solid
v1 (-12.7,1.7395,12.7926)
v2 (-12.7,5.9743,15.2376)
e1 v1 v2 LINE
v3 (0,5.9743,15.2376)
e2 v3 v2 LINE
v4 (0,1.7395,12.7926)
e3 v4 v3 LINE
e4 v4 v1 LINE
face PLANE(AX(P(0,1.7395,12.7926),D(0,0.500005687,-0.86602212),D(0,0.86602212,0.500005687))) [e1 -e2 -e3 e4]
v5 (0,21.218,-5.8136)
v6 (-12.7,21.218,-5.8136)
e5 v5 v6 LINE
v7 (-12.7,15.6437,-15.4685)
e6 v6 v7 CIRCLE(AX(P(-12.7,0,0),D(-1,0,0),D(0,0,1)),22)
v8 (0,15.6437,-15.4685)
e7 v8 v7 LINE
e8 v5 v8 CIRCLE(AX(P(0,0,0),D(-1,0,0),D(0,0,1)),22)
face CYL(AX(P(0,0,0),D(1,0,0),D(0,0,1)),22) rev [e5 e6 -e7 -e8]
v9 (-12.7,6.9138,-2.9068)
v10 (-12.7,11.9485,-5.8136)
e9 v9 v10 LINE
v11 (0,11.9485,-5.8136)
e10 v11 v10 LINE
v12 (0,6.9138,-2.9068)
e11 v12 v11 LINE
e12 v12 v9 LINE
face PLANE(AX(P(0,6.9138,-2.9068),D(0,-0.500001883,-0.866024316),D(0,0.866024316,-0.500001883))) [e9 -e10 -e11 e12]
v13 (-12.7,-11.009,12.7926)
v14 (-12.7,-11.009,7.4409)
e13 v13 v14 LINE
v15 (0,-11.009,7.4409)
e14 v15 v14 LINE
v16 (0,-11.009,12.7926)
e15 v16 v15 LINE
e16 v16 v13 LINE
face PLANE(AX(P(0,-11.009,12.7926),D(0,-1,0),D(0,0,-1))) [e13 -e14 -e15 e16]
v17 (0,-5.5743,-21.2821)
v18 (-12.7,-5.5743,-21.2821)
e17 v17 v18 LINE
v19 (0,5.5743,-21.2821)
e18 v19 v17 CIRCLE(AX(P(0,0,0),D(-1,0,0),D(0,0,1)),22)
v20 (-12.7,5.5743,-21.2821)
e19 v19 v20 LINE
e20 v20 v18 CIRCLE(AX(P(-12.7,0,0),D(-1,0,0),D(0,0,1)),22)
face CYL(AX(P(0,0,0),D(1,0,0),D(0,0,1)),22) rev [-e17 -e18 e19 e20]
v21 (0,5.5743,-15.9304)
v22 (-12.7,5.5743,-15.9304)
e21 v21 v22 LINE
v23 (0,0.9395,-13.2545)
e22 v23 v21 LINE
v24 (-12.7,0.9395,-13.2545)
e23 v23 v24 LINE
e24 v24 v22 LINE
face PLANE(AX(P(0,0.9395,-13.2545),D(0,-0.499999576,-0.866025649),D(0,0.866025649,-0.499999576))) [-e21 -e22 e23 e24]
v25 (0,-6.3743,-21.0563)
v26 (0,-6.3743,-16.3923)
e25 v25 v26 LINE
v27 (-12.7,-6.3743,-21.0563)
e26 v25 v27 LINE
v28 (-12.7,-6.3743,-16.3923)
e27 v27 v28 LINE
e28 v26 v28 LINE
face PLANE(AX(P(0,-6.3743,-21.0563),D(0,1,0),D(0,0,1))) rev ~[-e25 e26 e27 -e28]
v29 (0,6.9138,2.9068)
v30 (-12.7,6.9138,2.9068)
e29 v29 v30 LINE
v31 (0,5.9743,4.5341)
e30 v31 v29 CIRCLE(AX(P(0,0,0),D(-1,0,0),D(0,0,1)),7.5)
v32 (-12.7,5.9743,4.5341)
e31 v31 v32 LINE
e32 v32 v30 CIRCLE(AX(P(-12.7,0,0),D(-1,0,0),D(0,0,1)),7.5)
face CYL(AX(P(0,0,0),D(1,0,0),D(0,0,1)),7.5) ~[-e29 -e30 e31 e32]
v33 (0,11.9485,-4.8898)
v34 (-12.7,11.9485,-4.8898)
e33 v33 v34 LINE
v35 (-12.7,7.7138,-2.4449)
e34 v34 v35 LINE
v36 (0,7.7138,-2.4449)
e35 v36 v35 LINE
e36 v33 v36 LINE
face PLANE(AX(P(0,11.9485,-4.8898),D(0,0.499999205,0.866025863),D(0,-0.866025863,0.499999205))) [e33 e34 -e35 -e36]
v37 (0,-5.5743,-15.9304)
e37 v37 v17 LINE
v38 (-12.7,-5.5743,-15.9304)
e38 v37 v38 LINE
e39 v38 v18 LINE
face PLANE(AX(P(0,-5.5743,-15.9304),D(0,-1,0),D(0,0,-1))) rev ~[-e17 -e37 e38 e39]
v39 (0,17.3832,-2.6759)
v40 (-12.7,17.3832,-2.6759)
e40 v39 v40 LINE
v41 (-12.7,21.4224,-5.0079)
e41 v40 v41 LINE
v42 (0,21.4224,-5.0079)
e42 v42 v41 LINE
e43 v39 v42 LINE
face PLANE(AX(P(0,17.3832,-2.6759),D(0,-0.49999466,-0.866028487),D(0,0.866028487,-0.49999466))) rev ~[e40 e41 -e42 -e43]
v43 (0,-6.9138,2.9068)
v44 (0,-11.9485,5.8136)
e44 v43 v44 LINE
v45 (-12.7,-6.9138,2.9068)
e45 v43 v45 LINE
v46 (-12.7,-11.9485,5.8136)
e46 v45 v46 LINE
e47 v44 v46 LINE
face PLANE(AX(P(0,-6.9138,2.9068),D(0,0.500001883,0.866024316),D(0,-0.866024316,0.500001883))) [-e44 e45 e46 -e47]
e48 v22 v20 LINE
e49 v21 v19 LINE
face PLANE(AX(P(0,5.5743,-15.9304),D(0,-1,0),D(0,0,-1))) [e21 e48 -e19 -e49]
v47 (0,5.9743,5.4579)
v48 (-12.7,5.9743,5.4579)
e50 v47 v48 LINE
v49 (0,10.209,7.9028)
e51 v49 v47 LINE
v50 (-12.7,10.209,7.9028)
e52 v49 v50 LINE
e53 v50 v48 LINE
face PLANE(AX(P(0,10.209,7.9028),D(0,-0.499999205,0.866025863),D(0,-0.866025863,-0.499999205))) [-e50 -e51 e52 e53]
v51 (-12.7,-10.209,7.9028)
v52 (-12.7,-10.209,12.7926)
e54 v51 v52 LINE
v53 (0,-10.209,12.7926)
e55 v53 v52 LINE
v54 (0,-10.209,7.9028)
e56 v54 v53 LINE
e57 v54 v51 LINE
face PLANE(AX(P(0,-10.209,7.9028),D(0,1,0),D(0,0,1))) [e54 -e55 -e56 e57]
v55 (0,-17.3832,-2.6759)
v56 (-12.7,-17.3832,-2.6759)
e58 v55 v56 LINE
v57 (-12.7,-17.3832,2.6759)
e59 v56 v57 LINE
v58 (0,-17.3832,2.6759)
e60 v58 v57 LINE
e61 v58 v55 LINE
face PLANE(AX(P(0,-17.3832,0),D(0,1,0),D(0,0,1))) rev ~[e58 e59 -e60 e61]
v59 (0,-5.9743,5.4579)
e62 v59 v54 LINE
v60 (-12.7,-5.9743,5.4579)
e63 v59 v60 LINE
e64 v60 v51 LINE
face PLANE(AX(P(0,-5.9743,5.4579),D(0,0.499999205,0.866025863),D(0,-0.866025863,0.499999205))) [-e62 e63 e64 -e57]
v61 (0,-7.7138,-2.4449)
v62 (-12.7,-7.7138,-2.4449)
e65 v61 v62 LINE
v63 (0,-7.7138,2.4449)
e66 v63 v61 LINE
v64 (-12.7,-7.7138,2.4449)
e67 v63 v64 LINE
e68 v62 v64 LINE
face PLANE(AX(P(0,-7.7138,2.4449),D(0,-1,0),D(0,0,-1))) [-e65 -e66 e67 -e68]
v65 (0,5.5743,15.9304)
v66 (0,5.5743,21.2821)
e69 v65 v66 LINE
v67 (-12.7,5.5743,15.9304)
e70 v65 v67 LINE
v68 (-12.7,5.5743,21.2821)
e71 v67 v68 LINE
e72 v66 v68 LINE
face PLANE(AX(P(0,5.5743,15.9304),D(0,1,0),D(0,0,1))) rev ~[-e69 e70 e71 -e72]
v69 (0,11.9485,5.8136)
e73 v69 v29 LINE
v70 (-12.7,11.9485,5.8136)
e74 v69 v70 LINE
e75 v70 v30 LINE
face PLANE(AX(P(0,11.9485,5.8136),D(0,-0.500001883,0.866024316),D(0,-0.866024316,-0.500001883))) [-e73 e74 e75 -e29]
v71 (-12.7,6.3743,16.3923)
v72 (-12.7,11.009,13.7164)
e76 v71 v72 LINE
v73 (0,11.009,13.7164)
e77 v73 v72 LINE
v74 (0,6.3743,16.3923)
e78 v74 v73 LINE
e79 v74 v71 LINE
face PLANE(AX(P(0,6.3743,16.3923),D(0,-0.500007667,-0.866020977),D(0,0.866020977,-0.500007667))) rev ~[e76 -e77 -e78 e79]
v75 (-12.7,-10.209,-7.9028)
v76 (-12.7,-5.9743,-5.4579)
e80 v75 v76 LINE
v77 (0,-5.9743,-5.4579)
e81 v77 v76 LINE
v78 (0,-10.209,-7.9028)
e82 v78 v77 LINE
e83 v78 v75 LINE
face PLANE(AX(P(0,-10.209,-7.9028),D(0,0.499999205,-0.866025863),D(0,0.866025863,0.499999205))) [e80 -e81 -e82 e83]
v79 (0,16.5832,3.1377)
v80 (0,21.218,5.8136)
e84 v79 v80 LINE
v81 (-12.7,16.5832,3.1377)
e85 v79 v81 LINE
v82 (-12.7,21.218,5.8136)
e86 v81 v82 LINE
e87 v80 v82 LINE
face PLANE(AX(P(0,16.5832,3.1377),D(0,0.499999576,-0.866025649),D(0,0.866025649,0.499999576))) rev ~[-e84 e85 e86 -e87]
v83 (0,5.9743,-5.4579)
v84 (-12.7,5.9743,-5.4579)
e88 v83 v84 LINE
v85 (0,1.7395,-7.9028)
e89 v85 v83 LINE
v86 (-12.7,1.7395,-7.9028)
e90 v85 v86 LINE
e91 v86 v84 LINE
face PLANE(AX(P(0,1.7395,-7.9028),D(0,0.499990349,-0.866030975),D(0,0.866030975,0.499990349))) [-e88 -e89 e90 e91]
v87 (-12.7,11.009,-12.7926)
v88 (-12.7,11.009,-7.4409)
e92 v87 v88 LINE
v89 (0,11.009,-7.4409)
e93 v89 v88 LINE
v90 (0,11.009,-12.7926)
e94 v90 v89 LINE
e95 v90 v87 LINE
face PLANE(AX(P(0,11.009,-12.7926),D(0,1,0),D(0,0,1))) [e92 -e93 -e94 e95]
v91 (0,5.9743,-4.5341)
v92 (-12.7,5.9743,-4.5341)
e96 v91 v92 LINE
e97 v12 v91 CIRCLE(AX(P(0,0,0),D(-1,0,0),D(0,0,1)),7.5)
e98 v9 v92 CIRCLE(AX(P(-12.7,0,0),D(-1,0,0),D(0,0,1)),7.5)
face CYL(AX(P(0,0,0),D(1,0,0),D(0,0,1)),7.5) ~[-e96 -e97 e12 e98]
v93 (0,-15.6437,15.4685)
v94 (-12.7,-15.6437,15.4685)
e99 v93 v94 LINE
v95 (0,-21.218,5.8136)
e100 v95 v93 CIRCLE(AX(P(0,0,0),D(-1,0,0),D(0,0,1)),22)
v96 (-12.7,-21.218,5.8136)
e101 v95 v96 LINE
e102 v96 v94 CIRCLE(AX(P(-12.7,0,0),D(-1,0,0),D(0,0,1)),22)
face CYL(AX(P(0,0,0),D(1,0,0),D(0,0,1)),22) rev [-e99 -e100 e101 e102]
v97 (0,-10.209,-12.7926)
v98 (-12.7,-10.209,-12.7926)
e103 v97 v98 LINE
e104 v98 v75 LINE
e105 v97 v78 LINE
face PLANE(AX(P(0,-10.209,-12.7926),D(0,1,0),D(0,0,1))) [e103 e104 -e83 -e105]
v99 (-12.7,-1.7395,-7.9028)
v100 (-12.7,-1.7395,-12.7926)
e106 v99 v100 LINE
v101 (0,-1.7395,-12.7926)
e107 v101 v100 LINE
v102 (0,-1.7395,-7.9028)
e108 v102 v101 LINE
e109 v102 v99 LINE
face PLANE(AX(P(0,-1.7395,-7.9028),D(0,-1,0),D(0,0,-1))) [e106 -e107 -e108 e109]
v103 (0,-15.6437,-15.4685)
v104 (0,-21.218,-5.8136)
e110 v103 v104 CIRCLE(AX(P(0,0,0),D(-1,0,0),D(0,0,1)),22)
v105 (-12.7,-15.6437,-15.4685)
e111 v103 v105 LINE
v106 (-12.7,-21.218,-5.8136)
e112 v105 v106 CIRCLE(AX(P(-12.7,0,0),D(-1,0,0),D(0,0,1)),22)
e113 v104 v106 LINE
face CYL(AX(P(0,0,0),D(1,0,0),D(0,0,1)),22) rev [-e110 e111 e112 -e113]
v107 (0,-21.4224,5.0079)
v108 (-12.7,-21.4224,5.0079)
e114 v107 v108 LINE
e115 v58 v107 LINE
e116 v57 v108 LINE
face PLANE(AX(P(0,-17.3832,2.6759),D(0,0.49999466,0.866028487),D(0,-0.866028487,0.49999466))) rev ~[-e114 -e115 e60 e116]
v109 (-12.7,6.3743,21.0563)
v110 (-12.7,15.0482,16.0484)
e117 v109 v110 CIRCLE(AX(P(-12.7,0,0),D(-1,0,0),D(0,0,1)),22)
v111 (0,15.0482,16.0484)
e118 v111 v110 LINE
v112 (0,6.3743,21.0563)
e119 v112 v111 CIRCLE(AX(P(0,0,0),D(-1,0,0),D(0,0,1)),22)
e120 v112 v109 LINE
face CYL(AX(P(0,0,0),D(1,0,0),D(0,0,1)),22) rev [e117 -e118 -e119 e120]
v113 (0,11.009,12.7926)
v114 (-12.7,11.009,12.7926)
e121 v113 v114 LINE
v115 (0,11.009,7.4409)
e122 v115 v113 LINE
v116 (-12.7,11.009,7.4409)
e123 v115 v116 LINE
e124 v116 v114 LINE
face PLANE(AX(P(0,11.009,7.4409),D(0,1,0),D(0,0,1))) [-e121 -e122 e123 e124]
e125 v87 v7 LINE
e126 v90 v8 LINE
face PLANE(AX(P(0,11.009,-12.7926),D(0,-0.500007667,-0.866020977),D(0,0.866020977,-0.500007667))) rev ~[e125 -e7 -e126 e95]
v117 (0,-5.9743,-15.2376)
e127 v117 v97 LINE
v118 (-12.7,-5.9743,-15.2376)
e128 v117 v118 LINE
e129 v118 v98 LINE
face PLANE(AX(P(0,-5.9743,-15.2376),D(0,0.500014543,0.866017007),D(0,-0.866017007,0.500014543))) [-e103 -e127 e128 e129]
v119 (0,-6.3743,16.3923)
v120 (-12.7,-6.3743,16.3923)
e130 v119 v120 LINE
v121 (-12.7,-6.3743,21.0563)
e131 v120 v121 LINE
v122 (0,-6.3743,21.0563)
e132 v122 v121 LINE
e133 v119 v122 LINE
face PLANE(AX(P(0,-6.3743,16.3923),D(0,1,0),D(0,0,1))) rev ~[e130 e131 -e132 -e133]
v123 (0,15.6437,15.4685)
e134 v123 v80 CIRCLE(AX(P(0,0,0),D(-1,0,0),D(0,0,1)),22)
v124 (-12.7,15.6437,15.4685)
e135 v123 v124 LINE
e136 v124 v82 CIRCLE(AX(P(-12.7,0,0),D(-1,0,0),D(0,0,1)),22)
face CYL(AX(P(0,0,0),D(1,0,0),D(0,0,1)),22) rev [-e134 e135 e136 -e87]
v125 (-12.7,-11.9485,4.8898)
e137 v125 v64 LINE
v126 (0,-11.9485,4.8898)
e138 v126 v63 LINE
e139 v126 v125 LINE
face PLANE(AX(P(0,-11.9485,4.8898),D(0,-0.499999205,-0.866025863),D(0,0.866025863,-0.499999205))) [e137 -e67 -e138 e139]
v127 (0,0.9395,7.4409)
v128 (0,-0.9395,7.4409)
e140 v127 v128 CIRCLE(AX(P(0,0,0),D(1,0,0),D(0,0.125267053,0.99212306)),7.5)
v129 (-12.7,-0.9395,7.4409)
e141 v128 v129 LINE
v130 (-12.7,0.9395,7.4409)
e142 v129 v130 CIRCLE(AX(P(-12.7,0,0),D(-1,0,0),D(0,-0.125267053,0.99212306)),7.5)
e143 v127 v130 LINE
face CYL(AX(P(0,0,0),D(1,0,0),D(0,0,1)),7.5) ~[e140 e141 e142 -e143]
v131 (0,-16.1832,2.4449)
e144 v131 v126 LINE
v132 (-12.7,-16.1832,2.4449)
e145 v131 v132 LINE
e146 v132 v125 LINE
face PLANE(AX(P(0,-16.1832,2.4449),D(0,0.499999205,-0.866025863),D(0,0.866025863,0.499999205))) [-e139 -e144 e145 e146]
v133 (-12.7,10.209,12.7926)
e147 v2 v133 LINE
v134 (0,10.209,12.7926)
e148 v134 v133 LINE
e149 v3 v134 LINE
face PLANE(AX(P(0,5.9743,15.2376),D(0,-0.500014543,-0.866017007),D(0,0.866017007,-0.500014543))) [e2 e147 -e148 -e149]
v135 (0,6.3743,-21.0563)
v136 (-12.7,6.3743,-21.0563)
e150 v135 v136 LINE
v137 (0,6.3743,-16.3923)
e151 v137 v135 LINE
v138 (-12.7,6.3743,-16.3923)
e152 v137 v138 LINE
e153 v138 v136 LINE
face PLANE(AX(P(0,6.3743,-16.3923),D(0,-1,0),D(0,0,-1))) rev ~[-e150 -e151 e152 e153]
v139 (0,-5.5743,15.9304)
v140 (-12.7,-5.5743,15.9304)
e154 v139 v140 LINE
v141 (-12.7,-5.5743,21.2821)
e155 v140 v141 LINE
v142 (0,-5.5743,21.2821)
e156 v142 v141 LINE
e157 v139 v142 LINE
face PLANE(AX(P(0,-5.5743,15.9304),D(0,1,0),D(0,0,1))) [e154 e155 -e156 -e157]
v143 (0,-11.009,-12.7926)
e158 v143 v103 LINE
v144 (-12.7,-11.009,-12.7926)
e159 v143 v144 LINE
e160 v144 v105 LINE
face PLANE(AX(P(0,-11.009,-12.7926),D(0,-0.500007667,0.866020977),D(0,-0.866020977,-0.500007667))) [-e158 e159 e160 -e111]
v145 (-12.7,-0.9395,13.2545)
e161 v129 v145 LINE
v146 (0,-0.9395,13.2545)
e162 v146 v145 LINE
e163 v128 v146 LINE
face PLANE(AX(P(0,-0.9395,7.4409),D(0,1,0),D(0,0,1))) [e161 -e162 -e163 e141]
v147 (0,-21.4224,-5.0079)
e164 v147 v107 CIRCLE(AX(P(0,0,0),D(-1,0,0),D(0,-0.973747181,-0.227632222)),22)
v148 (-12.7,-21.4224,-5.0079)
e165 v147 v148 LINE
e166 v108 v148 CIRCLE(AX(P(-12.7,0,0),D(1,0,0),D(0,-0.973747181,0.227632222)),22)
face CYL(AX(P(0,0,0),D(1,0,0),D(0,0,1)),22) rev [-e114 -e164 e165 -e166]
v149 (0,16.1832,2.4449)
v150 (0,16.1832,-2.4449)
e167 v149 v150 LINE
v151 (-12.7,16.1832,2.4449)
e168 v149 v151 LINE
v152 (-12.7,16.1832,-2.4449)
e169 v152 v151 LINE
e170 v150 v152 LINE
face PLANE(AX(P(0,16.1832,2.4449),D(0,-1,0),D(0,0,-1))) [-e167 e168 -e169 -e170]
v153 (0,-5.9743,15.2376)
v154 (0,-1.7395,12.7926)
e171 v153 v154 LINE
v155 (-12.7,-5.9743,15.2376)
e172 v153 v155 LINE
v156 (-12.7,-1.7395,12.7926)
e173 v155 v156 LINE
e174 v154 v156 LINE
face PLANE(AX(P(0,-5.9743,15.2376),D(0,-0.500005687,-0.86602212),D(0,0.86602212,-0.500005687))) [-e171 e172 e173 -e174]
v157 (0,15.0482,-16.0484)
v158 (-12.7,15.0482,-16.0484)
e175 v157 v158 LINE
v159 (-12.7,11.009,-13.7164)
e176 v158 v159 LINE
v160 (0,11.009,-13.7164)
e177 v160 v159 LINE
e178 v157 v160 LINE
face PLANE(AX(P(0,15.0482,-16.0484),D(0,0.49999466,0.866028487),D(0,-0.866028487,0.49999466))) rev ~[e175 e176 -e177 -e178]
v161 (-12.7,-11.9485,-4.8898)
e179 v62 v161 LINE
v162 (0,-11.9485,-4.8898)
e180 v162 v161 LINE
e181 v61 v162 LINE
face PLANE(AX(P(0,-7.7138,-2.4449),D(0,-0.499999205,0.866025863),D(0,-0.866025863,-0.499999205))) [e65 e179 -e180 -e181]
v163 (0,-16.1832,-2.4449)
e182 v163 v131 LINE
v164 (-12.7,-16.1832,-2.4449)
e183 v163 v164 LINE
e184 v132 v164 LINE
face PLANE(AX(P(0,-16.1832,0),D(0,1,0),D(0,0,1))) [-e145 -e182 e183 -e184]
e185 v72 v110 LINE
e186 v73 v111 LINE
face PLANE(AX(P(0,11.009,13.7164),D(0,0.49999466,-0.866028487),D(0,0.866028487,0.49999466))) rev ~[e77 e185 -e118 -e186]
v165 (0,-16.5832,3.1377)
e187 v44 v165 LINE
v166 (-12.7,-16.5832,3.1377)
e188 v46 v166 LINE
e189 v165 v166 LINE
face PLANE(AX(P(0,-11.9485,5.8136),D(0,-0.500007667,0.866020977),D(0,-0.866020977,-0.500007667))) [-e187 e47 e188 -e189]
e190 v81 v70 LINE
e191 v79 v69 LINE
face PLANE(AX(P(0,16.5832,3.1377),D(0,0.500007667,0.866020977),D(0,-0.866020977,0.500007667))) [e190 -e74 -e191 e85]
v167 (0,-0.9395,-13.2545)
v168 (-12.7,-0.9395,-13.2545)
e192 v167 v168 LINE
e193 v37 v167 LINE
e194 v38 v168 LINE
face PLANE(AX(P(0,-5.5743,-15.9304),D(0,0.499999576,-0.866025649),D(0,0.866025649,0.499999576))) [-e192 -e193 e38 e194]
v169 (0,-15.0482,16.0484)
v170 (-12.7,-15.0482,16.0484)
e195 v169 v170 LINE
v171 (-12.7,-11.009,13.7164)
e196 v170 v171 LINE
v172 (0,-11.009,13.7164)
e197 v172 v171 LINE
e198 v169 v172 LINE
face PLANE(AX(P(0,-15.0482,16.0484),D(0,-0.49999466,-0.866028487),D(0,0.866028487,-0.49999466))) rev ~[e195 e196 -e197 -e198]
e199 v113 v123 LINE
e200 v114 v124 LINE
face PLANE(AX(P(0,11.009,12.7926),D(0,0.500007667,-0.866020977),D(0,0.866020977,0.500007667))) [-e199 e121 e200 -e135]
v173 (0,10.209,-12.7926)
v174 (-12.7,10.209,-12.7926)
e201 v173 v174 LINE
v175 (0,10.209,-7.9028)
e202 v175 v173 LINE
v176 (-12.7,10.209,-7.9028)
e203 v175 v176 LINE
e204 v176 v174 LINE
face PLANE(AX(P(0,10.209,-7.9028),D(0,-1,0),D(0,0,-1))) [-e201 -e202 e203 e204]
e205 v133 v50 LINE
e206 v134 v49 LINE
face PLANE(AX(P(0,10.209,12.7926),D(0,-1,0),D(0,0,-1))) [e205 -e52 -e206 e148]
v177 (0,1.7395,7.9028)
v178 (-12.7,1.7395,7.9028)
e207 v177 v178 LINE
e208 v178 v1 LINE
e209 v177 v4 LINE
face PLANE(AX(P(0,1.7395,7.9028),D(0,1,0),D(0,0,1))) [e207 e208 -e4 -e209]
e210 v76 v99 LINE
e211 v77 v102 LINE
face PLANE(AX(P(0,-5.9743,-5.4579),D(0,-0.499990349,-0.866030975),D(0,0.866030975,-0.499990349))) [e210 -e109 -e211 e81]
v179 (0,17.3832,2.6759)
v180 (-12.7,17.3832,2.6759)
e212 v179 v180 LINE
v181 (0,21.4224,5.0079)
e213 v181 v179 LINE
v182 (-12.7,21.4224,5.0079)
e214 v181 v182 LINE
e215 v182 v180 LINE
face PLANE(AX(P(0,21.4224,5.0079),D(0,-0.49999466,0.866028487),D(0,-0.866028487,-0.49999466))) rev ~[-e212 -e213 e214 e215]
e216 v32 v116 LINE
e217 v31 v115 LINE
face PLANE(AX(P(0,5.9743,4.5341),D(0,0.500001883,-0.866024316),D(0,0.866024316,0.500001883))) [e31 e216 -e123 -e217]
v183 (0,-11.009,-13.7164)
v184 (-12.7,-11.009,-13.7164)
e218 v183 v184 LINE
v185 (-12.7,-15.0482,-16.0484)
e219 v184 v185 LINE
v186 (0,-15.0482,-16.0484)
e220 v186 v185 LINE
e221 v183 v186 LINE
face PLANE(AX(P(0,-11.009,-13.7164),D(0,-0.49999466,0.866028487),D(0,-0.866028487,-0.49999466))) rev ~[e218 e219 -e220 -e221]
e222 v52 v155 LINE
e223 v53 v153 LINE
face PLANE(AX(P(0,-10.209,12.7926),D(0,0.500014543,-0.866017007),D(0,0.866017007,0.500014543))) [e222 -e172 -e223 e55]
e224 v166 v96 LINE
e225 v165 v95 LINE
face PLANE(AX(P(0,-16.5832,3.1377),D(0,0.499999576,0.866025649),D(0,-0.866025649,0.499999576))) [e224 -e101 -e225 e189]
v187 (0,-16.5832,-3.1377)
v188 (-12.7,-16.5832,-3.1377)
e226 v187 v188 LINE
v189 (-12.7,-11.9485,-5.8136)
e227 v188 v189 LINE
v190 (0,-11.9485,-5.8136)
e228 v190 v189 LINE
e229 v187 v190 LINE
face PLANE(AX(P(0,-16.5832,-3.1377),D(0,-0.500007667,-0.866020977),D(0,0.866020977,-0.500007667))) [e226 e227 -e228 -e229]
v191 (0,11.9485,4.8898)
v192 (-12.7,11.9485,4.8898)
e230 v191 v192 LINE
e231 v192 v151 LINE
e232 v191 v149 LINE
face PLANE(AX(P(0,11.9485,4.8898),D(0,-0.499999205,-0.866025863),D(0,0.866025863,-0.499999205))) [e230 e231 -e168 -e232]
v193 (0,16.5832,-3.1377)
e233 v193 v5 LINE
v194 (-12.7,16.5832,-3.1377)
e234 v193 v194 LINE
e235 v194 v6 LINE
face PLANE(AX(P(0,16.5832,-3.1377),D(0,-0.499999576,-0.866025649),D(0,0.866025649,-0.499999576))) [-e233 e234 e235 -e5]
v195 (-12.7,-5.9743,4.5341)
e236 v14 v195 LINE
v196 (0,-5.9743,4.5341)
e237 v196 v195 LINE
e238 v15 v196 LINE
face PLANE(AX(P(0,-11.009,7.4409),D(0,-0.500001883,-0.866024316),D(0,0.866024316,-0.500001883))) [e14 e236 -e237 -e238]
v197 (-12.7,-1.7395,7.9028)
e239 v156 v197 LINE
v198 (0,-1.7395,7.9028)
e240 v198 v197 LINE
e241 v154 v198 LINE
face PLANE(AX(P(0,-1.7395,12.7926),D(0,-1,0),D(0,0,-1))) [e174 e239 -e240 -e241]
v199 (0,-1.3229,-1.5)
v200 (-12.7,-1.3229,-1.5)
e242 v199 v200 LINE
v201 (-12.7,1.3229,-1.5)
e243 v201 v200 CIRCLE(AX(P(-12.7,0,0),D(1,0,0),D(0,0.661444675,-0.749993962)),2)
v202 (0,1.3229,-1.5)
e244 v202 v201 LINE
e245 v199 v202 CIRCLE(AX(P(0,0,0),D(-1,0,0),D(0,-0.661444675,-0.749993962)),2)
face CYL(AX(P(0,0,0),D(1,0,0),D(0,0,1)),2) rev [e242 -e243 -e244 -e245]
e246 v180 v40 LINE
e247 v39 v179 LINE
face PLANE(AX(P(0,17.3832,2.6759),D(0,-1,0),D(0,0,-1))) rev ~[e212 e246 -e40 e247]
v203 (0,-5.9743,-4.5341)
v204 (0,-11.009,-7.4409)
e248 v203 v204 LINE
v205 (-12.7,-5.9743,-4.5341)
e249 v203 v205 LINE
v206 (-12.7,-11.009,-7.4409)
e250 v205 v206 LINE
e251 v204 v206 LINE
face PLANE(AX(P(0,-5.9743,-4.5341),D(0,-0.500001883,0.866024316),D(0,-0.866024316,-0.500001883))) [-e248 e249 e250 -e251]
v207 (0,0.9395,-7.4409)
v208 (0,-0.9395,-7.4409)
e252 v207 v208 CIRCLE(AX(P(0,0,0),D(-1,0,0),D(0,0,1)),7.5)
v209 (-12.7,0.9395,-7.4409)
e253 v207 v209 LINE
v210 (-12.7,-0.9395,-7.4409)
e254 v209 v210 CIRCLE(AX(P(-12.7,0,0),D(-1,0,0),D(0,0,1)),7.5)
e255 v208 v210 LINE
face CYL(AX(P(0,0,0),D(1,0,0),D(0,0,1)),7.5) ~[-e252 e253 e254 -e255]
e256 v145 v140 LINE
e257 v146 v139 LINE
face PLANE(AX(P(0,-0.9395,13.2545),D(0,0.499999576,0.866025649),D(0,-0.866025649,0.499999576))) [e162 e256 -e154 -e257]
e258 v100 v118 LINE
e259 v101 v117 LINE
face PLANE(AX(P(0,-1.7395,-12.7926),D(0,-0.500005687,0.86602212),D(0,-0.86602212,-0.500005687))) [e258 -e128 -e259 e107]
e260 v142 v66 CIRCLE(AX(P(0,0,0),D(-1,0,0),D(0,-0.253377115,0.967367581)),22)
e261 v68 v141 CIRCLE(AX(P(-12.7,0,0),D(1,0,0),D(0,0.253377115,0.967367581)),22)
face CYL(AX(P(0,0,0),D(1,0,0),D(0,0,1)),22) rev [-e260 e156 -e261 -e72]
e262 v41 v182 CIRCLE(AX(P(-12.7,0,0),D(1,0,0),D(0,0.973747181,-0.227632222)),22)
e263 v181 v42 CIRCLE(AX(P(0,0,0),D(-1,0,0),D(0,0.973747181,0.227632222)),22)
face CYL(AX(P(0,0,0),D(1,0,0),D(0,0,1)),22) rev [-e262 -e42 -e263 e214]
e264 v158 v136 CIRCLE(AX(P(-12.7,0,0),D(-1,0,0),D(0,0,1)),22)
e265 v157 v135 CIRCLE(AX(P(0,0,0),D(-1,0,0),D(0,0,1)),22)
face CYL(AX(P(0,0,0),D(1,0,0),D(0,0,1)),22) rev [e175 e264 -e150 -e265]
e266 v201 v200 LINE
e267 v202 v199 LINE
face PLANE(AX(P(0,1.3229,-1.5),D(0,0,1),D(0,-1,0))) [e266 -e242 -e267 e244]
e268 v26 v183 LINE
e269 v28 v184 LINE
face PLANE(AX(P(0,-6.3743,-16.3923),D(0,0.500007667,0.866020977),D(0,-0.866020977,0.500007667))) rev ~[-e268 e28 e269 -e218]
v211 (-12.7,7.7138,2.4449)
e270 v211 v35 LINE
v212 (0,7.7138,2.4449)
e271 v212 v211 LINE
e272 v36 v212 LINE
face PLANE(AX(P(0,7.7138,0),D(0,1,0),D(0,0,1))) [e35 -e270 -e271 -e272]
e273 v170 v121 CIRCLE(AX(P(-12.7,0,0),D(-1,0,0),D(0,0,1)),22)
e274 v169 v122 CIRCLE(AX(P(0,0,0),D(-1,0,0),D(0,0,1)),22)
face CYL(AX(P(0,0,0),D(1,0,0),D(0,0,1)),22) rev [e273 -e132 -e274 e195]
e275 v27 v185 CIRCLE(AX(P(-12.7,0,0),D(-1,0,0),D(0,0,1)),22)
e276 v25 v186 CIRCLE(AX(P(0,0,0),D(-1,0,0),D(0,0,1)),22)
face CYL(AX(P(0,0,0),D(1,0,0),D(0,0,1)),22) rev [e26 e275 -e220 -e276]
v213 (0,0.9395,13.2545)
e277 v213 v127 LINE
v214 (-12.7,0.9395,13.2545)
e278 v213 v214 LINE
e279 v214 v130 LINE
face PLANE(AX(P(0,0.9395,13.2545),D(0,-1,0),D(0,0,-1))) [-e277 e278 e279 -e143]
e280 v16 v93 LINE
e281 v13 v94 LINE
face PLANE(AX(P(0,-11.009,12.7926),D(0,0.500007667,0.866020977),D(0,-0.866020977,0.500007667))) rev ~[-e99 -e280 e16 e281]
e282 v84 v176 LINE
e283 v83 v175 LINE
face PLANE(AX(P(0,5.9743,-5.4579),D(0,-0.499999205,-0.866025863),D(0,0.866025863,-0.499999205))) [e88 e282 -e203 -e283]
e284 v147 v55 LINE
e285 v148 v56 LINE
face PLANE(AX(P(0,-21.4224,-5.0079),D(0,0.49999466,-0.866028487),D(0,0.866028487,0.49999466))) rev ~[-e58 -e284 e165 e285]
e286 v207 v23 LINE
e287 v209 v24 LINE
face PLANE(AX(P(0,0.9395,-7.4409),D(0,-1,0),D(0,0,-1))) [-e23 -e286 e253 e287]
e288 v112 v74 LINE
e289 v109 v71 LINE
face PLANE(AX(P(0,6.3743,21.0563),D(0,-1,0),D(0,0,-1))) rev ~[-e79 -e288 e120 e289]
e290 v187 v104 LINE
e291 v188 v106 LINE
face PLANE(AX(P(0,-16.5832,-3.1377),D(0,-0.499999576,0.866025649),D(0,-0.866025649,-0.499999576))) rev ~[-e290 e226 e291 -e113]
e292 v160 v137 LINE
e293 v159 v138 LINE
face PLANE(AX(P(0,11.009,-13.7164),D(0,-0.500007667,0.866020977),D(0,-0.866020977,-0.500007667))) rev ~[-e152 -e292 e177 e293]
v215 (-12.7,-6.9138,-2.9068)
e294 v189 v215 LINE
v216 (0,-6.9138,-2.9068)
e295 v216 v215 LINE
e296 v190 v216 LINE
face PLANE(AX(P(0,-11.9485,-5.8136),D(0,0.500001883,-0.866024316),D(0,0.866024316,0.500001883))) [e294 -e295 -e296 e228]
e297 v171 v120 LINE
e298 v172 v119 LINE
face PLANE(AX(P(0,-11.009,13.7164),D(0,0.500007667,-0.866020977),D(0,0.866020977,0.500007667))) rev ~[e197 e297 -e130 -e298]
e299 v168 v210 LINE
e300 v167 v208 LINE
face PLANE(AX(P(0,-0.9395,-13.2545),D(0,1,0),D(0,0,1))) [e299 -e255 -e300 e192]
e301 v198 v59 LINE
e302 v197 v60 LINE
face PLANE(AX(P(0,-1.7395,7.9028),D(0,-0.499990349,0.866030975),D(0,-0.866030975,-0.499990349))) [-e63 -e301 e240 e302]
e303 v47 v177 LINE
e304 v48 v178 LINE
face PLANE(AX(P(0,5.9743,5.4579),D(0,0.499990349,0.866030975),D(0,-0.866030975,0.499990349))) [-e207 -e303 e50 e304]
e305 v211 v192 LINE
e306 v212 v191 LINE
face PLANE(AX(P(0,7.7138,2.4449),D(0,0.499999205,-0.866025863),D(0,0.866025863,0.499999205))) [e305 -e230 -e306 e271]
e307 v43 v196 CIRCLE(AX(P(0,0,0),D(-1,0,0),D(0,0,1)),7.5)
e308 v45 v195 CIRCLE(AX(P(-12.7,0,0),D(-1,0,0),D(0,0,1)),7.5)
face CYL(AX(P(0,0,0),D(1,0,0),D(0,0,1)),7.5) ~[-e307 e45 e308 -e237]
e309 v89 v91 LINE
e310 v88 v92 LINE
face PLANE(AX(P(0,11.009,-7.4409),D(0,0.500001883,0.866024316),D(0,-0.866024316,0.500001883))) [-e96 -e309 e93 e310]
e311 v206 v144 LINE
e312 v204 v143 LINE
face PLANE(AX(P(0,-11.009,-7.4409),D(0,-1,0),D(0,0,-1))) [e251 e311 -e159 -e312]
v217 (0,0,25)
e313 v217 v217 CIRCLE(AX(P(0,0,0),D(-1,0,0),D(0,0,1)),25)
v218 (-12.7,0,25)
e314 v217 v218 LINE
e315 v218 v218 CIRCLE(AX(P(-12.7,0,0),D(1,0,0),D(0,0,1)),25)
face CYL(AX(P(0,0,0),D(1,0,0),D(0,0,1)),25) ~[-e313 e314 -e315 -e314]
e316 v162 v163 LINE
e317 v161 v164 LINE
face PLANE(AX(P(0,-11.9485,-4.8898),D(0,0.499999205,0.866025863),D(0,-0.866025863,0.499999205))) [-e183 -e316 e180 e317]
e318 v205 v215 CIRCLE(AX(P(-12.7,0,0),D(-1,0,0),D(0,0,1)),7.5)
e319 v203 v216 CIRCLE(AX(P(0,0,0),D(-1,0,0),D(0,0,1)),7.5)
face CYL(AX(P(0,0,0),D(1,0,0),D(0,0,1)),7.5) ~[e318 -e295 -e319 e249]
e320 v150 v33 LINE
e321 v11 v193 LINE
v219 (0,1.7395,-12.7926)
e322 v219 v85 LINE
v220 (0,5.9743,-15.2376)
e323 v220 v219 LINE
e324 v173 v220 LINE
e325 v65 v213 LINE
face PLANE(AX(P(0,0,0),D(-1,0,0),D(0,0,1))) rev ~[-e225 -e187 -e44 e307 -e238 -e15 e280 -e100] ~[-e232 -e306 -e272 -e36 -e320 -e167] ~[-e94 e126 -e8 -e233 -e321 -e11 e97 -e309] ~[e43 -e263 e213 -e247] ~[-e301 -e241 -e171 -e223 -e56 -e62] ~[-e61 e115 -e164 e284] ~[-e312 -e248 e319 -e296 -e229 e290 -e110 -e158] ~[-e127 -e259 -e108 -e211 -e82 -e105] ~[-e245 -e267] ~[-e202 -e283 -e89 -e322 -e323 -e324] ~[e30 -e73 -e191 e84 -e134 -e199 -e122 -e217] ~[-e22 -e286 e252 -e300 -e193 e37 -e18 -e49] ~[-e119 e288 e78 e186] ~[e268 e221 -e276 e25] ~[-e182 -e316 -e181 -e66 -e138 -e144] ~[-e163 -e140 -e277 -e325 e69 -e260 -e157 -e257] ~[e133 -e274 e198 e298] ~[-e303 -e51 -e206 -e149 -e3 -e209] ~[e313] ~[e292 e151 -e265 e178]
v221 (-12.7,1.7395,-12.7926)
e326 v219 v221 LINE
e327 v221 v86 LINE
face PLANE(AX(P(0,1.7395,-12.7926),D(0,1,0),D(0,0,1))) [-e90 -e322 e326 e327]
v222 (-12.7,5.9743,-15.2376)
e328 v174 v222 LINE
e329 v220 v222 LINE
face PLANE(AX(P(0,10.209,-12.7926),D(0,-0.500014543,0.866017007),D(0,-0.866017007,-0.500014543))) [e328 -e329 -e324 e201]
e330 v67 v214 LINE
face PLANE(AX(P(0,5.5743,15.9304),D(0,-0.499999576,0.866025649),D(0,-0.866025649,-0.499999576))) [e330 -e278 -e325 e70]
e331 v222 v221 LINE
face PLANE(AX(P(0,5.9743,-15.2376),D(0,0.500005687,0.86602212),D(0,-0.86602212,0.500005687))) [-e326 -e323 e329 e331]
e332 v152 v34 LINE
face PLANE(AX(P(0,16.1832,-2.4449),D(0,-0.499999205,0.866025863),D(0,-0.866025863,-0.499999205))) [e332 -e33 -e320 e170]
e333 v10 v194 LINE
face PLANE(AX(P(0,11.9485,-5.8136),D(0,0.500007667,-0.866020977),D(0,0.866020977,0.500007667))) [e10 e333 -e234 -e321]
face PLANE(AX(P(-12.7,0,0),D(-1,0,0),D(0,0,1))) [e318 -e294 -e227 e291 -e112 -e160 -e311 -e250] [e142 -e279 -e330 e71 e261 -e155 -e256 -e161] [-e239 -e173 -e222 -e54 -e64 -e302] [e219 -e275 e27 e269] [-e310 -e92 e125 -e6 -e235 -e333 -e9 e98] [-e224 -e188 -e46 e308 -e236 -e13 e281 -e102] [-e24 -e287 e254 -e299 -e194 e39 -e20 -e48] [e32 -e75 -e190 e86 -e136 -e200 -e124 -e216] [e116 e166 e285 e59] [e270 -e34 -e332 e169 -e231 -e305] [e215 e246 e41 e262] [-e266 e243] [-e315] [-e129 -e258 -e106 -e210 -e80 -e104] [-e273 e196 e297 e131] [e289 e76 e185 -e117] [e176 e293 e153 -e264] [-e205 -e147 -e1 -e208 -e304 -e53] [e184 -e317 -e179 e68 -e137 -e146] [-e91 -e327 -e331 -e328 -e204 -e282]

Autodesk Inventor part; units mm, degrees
ref_plane "YZ Plane" through (0, 0, 0) normal (1, 0, 0) x (0, 1, 0)
ref_plane "XZ Plane" through (0, 0, 0) normal (0, 1, 0) x (-1, 0, 0)
ref_plane "XY Plane" through (0, 0, 0) normal (0, 0, 1) x (1, 0, 0)
sketch "Sketch2" plane through (0, 0, 0) normal (-1, 0, 0) x (0, 0, 1)
  circle A0 centre (0, 0) radius 25
  circle A1 centre (0, 0) radius 22
  line L0 (5.8136, 11.9485) -> (2.9068, 6.9138)
  line L1 (2.9068, 6.9138) -> (-2.9068, 6.9138)
  line L2 (-2.9068, 6.9138) -> (-5.8136, 11.9485)
  line L3 (-5.8136, 11.9485) -> (-3.1377, 16.5832)
  line L4 (-2.9068, 16.9832) -> (2.9068, 16.9832)
  line L5 (2.9068, 16.9832) -> (3.1377, 16.5832)
  line L6 (2.4449, 16.1832) -> (-2.4449, 16.1832)
  line L7 (-2.4449, 16.1832) -> (-4.8898, 11.9485)
  line L8 (-4.8898, 11.9485) -> (-2.4449, 7.7138)
  line L9 (-2.4449, 7.7138) -> (2.4449, 7.7138)
  line L10 (2.4449, 7.7138) -> (4.8898, 11.9485)
  line L11 (4.8898, 11.9485) -> (2.4449, 16.1832)
  circle A2 centre (0, 0) radius 2
  line L12 (-1.5, 1.3229) -> (-1.5, -1.3229)
  circle A3 centre (0, 0) radius 7.5
  line L13 (0, -35) -> (0, 35) projected
  line L14 (3.1377, 16.5832) -> (-3.1377, 16.5832)
  line L15 (3.1377, 16.5832) -> (5.8136, 21.218)
  line L16 (-3.1377, 16.5832) -> (-5.8136, 21.218)
  line L17 (5.0079, 21.4224) -> (2.6759, 17.3832)
  line L18 (2.6759, 17.3832) -> (-2.6759, 17.3832)
  line L19 (-2.6759, 17.3832) -> (-5.0079, 21.4224)
  line L20 (3.1377, 16.5832) -> (5.8136, 11.9485)
  line L21 (-3.1377, 16.5832) -> (-2.9068, 16.9832)
  line L22 (-7.4409, 11.009) -> (-4.5341, 5.9743)
  line L23 (-12.7926, 11.009) -> (-7.4409, 11.009)
  line L24 (-5.4579, 5.9743) -> (-7.9028, 10.209)
  line L25 (-7.9028, 1.7395) -> (-5.4579, 5.9743)
  line L26 (-12.7926, 1.7395) -> (-7.9028, 1.7395)
  line L27 (-7.4409, 0.9395) -> (-13.2545, 0.9395)
  line L28 (-15.2376, 5.9743) -> (-12.7926, 1.7395)
  line L29 (-13.2545, 0.9395) -> (-15.9304, 5.5743)
  line L30 (-7.9028, 10.209) -> (-12.7926, 10.209)
  line L31 (-12.7926, 10.209) -> (-15.2376, 5.9743)
  line L32 (-12.7926, 11.009) -> (-15.4685, 15.6437)
  line L33 (-16.0484, 15.0482) -> (-13.7164, 11.009)
  line L34 (-13.7164, 11.009) -> (-16.3923, 6.3743)
  line L35 (-16.3923, 6.3743) -> (-21.0563, 6.3743)
  line L36 (-15.9304, 5.5743) -> (-21.2821, 5.5743)
  line L37 (-13.2545, -0.9395) -> (-7.4409, -0.9395)
  line L38 (-15.9304, -5.5743) -> (-13.2545, -0.9395)
  line L39 (-7.9028, -1.7395) -> (-12.7926, -1.7395)
  line L40 (-5.4579, -5.9743) -> (-7.9028, -1.7395)
  line L41 (-7.9028, -10.209) -> (-5.4579, -5.9743)
  line L42 (-4.5341, -5.9743) -> (-7.4409, -11.009)
  line L43 (-12.7926, -10.209) -> (-7.9028, -10.209)
  line L44 (-7.4409, -11.009) -> (-12.7926, -11.009)
  line L45 (-12.7926, -1.7395) -> (-15.2376, -5.9743)
  line L46 (-15.2376, -5.9743) -> (-12.7926, -10.209)
  line L47 (-15.9304, -5.5743) -> (-21.2821, -5.5743)
  line L48 (-21.0563, -6.3743) -> (-16.3923, -6.3743)
  line L49 (-16.3923, -6.3743) -> (-13.7164, -11.009)
  line L50 (-13.7164, -11.009) -> (-16.0484, -15.0482)
  line L51 (-12.7926, -11.009) -> (-15.4685, -15.6437)
  line L52 (-5.8136, -11.9485) -> (-2.9068, -6.9138)
  line L53 (-3.1377, -16.5832) -> (-5.8136, -11.9485)
  line L54 (-2.4449, -7.7138) -> (-4.8898, -11.9485)
  line L55 (2.4449, -7.7138) -> (-2.4449, -7.7138)
  line L56 (4.8898, -11.9485) -> (2.4449, -7.7138)
  line L57 (2.9068, -6.9138) -> (5.8136, -11.9485)
  line L58 (2.4449, -16.1832) -> (4.8898, -11.9485)
  line L59 (5.8136, -11.9485) -> (3.1377, -16.5832)
  line L60 (-4.8898, -11.9485) -> (-2.4449, -16.1832)
  line L61 (-2.4449, -16.1832) -> (2.4449, -16.1832)
  line L62 (-3.1377, -16.5832) -> (-5.8136, -21.218)
  line L63 (-5.0079, -21.4224) -> (-2.6759, -17.3832)
  line L64 (-2.6759, -17.3832) -> (2.6759, -17.3832)
  line L65 (2.6759, -17.3832) -> (5.0079, -21.4224)
  line L66 (3.1377, -16.5832) -> (5.8136, -21.218)
  line L67 (7.4409, -11.009) -> (4.5341, -5.9743)
  line L68 (12.7926, -11.009) -> (7.4409, -11.009)
  line L69 (5.4579, -5.9743) -> (7.9028, -10.209)
  line L70 (7.9028, -1.7395) -> (5.4579, -5.9743)
  line L71 (12.7926, -1.7395) -> (7.9028, -1.7395)
  line L72 (7.4409, -0.9395) -> (13.2545, -0.9395)
  line L73 (15.2376, -5.9743) -> (12.7926, -1.7395)
  line L74 (13.2545, -0.9395) -> (15.9304, -5.5743)
  line L75 (7.9028, -10.209) -> (12.7926, -10.209)
  line L76 (12.7926, -10.209) -> (15.2376, -5.9743)
  line L77 (12.7926, -11.009) -> (15.4685, -15.6437)
  line L78 (16.0484, -15.0482) -> (13.7164, -11.009)
  line L79 (13.7164, -11.009) -> (16.3923, -6.3743)
  line L80 (16.3923, -6.3743) -> (21.0563, -6.3743)
  line L81 (15.9304, -5.5743) -> (21.2821, -5.5743)
  line L82 (13.2545, 0.9395) -> (7.4409, 0.9395)
  line L83 (15.9304, 5.5743) -> (13.2545, 0.9395)
  line L84 (7.9028, 1.7395) -> (12.7926, 1.7395)
  line L85 (5.4579, 5.9743) -> (7.9028, 1.7395)
  line L86 (7.9028, 10.209) -> (5.4579, 5.9743)
  line L87 (4.5341, 5.9743) -> (7.4409, 11.009)
  line L88 (12.7926, 10.209) -> (7.9028, 10.209)
  line L89 (7.4409, 11.009) -> (12.7926, 11.009)
  line L90 (12.7926, 1.7395) -> (15.2376, 5.9743)
  line L91 (15.2376, 5.9743) -> (12.7926, 10.209)
  line L92 (15.9304, 5.5743) -> (21.2821, 5.5743)
  line L93 (21.0563, 6.3743) -> (16.3923, 6.3743)
  line L94 (16.3923, 6.3743) -> (13.7164, 11.009)
  line L95 (13.7164, 11.009) -> (16.0484, 15.0482)
  line L96 (12.7926, 11.009) -> (15.4685, 15.6437)
  point P0 (0, 11.9485)
  point P1 (4.3345, 6.1207)
  point P2 (-4.4817, 6.0137)
  point P3 (-0.4847, 7.4843)
  dimension "d10" = 3
  dimension "d11" = 0.8
  dimension "d33" = 4
  dimension "d34" = 1.5
  dimension "d35" = 15
  dimension "d36" = 50
  dimension "d42" = 0.4
  dimension "d43" = 120
  dimension "d44" = 120
  dimension "d45" = 0.8
  dimension "d46" = 0.8
  dimension "d50" = 360
extrude "Extrusion2" add sketch "Sketch2" along normal blind 12.7 contours A0 L13 A1 | L13 A1 A0 | A1 L15 L5 L4 L13 L18 L17 | L19 L18 L13 L4 L21 L16 A1 | A1 L62 L53 L52 A3 L13 L55 L54 L60 L61 L64 L63 | L65 L64 L13 L61 L58 L56 L55 A3 L57 L59 L66 A1 | L13 L14 L21 L4 | L4 L5 L14 L13 | A1 L95 L94 L93 L92 L83 L82 A3 L87 L89 L96 | L20 L0 A3 L13 L9 L10 L11 L6 L14 | L32 L23 L22 A3 L27 L29 L36 A1 L35 L34 L33 | L14 L13 L6 L7 L8 L9 A3 L2 L3 | A1 L50 L49 L48 L47 L38 L37 A3 L42 L44 L51 | L77 L68 L67 A3 L72 L74 L81 A1 L80 L79 L78 | L13 A2 L1 A3 | A3 L1 L13 A2 | L1 L13 A3 | A3 L13 L1 | A2 L12
equation "\"d36\" = WheelDia"
equation "\"d16\" = WheelThickness"
equation "\"WheelWidth_1\" = 7"
equation "\"Roundedness\" = 1"
equation "\"WheelDia\" = 50"
equation "\"WheelThickness\" = 12.7"
properties part number "VertWheelV1" material "H TPU"
